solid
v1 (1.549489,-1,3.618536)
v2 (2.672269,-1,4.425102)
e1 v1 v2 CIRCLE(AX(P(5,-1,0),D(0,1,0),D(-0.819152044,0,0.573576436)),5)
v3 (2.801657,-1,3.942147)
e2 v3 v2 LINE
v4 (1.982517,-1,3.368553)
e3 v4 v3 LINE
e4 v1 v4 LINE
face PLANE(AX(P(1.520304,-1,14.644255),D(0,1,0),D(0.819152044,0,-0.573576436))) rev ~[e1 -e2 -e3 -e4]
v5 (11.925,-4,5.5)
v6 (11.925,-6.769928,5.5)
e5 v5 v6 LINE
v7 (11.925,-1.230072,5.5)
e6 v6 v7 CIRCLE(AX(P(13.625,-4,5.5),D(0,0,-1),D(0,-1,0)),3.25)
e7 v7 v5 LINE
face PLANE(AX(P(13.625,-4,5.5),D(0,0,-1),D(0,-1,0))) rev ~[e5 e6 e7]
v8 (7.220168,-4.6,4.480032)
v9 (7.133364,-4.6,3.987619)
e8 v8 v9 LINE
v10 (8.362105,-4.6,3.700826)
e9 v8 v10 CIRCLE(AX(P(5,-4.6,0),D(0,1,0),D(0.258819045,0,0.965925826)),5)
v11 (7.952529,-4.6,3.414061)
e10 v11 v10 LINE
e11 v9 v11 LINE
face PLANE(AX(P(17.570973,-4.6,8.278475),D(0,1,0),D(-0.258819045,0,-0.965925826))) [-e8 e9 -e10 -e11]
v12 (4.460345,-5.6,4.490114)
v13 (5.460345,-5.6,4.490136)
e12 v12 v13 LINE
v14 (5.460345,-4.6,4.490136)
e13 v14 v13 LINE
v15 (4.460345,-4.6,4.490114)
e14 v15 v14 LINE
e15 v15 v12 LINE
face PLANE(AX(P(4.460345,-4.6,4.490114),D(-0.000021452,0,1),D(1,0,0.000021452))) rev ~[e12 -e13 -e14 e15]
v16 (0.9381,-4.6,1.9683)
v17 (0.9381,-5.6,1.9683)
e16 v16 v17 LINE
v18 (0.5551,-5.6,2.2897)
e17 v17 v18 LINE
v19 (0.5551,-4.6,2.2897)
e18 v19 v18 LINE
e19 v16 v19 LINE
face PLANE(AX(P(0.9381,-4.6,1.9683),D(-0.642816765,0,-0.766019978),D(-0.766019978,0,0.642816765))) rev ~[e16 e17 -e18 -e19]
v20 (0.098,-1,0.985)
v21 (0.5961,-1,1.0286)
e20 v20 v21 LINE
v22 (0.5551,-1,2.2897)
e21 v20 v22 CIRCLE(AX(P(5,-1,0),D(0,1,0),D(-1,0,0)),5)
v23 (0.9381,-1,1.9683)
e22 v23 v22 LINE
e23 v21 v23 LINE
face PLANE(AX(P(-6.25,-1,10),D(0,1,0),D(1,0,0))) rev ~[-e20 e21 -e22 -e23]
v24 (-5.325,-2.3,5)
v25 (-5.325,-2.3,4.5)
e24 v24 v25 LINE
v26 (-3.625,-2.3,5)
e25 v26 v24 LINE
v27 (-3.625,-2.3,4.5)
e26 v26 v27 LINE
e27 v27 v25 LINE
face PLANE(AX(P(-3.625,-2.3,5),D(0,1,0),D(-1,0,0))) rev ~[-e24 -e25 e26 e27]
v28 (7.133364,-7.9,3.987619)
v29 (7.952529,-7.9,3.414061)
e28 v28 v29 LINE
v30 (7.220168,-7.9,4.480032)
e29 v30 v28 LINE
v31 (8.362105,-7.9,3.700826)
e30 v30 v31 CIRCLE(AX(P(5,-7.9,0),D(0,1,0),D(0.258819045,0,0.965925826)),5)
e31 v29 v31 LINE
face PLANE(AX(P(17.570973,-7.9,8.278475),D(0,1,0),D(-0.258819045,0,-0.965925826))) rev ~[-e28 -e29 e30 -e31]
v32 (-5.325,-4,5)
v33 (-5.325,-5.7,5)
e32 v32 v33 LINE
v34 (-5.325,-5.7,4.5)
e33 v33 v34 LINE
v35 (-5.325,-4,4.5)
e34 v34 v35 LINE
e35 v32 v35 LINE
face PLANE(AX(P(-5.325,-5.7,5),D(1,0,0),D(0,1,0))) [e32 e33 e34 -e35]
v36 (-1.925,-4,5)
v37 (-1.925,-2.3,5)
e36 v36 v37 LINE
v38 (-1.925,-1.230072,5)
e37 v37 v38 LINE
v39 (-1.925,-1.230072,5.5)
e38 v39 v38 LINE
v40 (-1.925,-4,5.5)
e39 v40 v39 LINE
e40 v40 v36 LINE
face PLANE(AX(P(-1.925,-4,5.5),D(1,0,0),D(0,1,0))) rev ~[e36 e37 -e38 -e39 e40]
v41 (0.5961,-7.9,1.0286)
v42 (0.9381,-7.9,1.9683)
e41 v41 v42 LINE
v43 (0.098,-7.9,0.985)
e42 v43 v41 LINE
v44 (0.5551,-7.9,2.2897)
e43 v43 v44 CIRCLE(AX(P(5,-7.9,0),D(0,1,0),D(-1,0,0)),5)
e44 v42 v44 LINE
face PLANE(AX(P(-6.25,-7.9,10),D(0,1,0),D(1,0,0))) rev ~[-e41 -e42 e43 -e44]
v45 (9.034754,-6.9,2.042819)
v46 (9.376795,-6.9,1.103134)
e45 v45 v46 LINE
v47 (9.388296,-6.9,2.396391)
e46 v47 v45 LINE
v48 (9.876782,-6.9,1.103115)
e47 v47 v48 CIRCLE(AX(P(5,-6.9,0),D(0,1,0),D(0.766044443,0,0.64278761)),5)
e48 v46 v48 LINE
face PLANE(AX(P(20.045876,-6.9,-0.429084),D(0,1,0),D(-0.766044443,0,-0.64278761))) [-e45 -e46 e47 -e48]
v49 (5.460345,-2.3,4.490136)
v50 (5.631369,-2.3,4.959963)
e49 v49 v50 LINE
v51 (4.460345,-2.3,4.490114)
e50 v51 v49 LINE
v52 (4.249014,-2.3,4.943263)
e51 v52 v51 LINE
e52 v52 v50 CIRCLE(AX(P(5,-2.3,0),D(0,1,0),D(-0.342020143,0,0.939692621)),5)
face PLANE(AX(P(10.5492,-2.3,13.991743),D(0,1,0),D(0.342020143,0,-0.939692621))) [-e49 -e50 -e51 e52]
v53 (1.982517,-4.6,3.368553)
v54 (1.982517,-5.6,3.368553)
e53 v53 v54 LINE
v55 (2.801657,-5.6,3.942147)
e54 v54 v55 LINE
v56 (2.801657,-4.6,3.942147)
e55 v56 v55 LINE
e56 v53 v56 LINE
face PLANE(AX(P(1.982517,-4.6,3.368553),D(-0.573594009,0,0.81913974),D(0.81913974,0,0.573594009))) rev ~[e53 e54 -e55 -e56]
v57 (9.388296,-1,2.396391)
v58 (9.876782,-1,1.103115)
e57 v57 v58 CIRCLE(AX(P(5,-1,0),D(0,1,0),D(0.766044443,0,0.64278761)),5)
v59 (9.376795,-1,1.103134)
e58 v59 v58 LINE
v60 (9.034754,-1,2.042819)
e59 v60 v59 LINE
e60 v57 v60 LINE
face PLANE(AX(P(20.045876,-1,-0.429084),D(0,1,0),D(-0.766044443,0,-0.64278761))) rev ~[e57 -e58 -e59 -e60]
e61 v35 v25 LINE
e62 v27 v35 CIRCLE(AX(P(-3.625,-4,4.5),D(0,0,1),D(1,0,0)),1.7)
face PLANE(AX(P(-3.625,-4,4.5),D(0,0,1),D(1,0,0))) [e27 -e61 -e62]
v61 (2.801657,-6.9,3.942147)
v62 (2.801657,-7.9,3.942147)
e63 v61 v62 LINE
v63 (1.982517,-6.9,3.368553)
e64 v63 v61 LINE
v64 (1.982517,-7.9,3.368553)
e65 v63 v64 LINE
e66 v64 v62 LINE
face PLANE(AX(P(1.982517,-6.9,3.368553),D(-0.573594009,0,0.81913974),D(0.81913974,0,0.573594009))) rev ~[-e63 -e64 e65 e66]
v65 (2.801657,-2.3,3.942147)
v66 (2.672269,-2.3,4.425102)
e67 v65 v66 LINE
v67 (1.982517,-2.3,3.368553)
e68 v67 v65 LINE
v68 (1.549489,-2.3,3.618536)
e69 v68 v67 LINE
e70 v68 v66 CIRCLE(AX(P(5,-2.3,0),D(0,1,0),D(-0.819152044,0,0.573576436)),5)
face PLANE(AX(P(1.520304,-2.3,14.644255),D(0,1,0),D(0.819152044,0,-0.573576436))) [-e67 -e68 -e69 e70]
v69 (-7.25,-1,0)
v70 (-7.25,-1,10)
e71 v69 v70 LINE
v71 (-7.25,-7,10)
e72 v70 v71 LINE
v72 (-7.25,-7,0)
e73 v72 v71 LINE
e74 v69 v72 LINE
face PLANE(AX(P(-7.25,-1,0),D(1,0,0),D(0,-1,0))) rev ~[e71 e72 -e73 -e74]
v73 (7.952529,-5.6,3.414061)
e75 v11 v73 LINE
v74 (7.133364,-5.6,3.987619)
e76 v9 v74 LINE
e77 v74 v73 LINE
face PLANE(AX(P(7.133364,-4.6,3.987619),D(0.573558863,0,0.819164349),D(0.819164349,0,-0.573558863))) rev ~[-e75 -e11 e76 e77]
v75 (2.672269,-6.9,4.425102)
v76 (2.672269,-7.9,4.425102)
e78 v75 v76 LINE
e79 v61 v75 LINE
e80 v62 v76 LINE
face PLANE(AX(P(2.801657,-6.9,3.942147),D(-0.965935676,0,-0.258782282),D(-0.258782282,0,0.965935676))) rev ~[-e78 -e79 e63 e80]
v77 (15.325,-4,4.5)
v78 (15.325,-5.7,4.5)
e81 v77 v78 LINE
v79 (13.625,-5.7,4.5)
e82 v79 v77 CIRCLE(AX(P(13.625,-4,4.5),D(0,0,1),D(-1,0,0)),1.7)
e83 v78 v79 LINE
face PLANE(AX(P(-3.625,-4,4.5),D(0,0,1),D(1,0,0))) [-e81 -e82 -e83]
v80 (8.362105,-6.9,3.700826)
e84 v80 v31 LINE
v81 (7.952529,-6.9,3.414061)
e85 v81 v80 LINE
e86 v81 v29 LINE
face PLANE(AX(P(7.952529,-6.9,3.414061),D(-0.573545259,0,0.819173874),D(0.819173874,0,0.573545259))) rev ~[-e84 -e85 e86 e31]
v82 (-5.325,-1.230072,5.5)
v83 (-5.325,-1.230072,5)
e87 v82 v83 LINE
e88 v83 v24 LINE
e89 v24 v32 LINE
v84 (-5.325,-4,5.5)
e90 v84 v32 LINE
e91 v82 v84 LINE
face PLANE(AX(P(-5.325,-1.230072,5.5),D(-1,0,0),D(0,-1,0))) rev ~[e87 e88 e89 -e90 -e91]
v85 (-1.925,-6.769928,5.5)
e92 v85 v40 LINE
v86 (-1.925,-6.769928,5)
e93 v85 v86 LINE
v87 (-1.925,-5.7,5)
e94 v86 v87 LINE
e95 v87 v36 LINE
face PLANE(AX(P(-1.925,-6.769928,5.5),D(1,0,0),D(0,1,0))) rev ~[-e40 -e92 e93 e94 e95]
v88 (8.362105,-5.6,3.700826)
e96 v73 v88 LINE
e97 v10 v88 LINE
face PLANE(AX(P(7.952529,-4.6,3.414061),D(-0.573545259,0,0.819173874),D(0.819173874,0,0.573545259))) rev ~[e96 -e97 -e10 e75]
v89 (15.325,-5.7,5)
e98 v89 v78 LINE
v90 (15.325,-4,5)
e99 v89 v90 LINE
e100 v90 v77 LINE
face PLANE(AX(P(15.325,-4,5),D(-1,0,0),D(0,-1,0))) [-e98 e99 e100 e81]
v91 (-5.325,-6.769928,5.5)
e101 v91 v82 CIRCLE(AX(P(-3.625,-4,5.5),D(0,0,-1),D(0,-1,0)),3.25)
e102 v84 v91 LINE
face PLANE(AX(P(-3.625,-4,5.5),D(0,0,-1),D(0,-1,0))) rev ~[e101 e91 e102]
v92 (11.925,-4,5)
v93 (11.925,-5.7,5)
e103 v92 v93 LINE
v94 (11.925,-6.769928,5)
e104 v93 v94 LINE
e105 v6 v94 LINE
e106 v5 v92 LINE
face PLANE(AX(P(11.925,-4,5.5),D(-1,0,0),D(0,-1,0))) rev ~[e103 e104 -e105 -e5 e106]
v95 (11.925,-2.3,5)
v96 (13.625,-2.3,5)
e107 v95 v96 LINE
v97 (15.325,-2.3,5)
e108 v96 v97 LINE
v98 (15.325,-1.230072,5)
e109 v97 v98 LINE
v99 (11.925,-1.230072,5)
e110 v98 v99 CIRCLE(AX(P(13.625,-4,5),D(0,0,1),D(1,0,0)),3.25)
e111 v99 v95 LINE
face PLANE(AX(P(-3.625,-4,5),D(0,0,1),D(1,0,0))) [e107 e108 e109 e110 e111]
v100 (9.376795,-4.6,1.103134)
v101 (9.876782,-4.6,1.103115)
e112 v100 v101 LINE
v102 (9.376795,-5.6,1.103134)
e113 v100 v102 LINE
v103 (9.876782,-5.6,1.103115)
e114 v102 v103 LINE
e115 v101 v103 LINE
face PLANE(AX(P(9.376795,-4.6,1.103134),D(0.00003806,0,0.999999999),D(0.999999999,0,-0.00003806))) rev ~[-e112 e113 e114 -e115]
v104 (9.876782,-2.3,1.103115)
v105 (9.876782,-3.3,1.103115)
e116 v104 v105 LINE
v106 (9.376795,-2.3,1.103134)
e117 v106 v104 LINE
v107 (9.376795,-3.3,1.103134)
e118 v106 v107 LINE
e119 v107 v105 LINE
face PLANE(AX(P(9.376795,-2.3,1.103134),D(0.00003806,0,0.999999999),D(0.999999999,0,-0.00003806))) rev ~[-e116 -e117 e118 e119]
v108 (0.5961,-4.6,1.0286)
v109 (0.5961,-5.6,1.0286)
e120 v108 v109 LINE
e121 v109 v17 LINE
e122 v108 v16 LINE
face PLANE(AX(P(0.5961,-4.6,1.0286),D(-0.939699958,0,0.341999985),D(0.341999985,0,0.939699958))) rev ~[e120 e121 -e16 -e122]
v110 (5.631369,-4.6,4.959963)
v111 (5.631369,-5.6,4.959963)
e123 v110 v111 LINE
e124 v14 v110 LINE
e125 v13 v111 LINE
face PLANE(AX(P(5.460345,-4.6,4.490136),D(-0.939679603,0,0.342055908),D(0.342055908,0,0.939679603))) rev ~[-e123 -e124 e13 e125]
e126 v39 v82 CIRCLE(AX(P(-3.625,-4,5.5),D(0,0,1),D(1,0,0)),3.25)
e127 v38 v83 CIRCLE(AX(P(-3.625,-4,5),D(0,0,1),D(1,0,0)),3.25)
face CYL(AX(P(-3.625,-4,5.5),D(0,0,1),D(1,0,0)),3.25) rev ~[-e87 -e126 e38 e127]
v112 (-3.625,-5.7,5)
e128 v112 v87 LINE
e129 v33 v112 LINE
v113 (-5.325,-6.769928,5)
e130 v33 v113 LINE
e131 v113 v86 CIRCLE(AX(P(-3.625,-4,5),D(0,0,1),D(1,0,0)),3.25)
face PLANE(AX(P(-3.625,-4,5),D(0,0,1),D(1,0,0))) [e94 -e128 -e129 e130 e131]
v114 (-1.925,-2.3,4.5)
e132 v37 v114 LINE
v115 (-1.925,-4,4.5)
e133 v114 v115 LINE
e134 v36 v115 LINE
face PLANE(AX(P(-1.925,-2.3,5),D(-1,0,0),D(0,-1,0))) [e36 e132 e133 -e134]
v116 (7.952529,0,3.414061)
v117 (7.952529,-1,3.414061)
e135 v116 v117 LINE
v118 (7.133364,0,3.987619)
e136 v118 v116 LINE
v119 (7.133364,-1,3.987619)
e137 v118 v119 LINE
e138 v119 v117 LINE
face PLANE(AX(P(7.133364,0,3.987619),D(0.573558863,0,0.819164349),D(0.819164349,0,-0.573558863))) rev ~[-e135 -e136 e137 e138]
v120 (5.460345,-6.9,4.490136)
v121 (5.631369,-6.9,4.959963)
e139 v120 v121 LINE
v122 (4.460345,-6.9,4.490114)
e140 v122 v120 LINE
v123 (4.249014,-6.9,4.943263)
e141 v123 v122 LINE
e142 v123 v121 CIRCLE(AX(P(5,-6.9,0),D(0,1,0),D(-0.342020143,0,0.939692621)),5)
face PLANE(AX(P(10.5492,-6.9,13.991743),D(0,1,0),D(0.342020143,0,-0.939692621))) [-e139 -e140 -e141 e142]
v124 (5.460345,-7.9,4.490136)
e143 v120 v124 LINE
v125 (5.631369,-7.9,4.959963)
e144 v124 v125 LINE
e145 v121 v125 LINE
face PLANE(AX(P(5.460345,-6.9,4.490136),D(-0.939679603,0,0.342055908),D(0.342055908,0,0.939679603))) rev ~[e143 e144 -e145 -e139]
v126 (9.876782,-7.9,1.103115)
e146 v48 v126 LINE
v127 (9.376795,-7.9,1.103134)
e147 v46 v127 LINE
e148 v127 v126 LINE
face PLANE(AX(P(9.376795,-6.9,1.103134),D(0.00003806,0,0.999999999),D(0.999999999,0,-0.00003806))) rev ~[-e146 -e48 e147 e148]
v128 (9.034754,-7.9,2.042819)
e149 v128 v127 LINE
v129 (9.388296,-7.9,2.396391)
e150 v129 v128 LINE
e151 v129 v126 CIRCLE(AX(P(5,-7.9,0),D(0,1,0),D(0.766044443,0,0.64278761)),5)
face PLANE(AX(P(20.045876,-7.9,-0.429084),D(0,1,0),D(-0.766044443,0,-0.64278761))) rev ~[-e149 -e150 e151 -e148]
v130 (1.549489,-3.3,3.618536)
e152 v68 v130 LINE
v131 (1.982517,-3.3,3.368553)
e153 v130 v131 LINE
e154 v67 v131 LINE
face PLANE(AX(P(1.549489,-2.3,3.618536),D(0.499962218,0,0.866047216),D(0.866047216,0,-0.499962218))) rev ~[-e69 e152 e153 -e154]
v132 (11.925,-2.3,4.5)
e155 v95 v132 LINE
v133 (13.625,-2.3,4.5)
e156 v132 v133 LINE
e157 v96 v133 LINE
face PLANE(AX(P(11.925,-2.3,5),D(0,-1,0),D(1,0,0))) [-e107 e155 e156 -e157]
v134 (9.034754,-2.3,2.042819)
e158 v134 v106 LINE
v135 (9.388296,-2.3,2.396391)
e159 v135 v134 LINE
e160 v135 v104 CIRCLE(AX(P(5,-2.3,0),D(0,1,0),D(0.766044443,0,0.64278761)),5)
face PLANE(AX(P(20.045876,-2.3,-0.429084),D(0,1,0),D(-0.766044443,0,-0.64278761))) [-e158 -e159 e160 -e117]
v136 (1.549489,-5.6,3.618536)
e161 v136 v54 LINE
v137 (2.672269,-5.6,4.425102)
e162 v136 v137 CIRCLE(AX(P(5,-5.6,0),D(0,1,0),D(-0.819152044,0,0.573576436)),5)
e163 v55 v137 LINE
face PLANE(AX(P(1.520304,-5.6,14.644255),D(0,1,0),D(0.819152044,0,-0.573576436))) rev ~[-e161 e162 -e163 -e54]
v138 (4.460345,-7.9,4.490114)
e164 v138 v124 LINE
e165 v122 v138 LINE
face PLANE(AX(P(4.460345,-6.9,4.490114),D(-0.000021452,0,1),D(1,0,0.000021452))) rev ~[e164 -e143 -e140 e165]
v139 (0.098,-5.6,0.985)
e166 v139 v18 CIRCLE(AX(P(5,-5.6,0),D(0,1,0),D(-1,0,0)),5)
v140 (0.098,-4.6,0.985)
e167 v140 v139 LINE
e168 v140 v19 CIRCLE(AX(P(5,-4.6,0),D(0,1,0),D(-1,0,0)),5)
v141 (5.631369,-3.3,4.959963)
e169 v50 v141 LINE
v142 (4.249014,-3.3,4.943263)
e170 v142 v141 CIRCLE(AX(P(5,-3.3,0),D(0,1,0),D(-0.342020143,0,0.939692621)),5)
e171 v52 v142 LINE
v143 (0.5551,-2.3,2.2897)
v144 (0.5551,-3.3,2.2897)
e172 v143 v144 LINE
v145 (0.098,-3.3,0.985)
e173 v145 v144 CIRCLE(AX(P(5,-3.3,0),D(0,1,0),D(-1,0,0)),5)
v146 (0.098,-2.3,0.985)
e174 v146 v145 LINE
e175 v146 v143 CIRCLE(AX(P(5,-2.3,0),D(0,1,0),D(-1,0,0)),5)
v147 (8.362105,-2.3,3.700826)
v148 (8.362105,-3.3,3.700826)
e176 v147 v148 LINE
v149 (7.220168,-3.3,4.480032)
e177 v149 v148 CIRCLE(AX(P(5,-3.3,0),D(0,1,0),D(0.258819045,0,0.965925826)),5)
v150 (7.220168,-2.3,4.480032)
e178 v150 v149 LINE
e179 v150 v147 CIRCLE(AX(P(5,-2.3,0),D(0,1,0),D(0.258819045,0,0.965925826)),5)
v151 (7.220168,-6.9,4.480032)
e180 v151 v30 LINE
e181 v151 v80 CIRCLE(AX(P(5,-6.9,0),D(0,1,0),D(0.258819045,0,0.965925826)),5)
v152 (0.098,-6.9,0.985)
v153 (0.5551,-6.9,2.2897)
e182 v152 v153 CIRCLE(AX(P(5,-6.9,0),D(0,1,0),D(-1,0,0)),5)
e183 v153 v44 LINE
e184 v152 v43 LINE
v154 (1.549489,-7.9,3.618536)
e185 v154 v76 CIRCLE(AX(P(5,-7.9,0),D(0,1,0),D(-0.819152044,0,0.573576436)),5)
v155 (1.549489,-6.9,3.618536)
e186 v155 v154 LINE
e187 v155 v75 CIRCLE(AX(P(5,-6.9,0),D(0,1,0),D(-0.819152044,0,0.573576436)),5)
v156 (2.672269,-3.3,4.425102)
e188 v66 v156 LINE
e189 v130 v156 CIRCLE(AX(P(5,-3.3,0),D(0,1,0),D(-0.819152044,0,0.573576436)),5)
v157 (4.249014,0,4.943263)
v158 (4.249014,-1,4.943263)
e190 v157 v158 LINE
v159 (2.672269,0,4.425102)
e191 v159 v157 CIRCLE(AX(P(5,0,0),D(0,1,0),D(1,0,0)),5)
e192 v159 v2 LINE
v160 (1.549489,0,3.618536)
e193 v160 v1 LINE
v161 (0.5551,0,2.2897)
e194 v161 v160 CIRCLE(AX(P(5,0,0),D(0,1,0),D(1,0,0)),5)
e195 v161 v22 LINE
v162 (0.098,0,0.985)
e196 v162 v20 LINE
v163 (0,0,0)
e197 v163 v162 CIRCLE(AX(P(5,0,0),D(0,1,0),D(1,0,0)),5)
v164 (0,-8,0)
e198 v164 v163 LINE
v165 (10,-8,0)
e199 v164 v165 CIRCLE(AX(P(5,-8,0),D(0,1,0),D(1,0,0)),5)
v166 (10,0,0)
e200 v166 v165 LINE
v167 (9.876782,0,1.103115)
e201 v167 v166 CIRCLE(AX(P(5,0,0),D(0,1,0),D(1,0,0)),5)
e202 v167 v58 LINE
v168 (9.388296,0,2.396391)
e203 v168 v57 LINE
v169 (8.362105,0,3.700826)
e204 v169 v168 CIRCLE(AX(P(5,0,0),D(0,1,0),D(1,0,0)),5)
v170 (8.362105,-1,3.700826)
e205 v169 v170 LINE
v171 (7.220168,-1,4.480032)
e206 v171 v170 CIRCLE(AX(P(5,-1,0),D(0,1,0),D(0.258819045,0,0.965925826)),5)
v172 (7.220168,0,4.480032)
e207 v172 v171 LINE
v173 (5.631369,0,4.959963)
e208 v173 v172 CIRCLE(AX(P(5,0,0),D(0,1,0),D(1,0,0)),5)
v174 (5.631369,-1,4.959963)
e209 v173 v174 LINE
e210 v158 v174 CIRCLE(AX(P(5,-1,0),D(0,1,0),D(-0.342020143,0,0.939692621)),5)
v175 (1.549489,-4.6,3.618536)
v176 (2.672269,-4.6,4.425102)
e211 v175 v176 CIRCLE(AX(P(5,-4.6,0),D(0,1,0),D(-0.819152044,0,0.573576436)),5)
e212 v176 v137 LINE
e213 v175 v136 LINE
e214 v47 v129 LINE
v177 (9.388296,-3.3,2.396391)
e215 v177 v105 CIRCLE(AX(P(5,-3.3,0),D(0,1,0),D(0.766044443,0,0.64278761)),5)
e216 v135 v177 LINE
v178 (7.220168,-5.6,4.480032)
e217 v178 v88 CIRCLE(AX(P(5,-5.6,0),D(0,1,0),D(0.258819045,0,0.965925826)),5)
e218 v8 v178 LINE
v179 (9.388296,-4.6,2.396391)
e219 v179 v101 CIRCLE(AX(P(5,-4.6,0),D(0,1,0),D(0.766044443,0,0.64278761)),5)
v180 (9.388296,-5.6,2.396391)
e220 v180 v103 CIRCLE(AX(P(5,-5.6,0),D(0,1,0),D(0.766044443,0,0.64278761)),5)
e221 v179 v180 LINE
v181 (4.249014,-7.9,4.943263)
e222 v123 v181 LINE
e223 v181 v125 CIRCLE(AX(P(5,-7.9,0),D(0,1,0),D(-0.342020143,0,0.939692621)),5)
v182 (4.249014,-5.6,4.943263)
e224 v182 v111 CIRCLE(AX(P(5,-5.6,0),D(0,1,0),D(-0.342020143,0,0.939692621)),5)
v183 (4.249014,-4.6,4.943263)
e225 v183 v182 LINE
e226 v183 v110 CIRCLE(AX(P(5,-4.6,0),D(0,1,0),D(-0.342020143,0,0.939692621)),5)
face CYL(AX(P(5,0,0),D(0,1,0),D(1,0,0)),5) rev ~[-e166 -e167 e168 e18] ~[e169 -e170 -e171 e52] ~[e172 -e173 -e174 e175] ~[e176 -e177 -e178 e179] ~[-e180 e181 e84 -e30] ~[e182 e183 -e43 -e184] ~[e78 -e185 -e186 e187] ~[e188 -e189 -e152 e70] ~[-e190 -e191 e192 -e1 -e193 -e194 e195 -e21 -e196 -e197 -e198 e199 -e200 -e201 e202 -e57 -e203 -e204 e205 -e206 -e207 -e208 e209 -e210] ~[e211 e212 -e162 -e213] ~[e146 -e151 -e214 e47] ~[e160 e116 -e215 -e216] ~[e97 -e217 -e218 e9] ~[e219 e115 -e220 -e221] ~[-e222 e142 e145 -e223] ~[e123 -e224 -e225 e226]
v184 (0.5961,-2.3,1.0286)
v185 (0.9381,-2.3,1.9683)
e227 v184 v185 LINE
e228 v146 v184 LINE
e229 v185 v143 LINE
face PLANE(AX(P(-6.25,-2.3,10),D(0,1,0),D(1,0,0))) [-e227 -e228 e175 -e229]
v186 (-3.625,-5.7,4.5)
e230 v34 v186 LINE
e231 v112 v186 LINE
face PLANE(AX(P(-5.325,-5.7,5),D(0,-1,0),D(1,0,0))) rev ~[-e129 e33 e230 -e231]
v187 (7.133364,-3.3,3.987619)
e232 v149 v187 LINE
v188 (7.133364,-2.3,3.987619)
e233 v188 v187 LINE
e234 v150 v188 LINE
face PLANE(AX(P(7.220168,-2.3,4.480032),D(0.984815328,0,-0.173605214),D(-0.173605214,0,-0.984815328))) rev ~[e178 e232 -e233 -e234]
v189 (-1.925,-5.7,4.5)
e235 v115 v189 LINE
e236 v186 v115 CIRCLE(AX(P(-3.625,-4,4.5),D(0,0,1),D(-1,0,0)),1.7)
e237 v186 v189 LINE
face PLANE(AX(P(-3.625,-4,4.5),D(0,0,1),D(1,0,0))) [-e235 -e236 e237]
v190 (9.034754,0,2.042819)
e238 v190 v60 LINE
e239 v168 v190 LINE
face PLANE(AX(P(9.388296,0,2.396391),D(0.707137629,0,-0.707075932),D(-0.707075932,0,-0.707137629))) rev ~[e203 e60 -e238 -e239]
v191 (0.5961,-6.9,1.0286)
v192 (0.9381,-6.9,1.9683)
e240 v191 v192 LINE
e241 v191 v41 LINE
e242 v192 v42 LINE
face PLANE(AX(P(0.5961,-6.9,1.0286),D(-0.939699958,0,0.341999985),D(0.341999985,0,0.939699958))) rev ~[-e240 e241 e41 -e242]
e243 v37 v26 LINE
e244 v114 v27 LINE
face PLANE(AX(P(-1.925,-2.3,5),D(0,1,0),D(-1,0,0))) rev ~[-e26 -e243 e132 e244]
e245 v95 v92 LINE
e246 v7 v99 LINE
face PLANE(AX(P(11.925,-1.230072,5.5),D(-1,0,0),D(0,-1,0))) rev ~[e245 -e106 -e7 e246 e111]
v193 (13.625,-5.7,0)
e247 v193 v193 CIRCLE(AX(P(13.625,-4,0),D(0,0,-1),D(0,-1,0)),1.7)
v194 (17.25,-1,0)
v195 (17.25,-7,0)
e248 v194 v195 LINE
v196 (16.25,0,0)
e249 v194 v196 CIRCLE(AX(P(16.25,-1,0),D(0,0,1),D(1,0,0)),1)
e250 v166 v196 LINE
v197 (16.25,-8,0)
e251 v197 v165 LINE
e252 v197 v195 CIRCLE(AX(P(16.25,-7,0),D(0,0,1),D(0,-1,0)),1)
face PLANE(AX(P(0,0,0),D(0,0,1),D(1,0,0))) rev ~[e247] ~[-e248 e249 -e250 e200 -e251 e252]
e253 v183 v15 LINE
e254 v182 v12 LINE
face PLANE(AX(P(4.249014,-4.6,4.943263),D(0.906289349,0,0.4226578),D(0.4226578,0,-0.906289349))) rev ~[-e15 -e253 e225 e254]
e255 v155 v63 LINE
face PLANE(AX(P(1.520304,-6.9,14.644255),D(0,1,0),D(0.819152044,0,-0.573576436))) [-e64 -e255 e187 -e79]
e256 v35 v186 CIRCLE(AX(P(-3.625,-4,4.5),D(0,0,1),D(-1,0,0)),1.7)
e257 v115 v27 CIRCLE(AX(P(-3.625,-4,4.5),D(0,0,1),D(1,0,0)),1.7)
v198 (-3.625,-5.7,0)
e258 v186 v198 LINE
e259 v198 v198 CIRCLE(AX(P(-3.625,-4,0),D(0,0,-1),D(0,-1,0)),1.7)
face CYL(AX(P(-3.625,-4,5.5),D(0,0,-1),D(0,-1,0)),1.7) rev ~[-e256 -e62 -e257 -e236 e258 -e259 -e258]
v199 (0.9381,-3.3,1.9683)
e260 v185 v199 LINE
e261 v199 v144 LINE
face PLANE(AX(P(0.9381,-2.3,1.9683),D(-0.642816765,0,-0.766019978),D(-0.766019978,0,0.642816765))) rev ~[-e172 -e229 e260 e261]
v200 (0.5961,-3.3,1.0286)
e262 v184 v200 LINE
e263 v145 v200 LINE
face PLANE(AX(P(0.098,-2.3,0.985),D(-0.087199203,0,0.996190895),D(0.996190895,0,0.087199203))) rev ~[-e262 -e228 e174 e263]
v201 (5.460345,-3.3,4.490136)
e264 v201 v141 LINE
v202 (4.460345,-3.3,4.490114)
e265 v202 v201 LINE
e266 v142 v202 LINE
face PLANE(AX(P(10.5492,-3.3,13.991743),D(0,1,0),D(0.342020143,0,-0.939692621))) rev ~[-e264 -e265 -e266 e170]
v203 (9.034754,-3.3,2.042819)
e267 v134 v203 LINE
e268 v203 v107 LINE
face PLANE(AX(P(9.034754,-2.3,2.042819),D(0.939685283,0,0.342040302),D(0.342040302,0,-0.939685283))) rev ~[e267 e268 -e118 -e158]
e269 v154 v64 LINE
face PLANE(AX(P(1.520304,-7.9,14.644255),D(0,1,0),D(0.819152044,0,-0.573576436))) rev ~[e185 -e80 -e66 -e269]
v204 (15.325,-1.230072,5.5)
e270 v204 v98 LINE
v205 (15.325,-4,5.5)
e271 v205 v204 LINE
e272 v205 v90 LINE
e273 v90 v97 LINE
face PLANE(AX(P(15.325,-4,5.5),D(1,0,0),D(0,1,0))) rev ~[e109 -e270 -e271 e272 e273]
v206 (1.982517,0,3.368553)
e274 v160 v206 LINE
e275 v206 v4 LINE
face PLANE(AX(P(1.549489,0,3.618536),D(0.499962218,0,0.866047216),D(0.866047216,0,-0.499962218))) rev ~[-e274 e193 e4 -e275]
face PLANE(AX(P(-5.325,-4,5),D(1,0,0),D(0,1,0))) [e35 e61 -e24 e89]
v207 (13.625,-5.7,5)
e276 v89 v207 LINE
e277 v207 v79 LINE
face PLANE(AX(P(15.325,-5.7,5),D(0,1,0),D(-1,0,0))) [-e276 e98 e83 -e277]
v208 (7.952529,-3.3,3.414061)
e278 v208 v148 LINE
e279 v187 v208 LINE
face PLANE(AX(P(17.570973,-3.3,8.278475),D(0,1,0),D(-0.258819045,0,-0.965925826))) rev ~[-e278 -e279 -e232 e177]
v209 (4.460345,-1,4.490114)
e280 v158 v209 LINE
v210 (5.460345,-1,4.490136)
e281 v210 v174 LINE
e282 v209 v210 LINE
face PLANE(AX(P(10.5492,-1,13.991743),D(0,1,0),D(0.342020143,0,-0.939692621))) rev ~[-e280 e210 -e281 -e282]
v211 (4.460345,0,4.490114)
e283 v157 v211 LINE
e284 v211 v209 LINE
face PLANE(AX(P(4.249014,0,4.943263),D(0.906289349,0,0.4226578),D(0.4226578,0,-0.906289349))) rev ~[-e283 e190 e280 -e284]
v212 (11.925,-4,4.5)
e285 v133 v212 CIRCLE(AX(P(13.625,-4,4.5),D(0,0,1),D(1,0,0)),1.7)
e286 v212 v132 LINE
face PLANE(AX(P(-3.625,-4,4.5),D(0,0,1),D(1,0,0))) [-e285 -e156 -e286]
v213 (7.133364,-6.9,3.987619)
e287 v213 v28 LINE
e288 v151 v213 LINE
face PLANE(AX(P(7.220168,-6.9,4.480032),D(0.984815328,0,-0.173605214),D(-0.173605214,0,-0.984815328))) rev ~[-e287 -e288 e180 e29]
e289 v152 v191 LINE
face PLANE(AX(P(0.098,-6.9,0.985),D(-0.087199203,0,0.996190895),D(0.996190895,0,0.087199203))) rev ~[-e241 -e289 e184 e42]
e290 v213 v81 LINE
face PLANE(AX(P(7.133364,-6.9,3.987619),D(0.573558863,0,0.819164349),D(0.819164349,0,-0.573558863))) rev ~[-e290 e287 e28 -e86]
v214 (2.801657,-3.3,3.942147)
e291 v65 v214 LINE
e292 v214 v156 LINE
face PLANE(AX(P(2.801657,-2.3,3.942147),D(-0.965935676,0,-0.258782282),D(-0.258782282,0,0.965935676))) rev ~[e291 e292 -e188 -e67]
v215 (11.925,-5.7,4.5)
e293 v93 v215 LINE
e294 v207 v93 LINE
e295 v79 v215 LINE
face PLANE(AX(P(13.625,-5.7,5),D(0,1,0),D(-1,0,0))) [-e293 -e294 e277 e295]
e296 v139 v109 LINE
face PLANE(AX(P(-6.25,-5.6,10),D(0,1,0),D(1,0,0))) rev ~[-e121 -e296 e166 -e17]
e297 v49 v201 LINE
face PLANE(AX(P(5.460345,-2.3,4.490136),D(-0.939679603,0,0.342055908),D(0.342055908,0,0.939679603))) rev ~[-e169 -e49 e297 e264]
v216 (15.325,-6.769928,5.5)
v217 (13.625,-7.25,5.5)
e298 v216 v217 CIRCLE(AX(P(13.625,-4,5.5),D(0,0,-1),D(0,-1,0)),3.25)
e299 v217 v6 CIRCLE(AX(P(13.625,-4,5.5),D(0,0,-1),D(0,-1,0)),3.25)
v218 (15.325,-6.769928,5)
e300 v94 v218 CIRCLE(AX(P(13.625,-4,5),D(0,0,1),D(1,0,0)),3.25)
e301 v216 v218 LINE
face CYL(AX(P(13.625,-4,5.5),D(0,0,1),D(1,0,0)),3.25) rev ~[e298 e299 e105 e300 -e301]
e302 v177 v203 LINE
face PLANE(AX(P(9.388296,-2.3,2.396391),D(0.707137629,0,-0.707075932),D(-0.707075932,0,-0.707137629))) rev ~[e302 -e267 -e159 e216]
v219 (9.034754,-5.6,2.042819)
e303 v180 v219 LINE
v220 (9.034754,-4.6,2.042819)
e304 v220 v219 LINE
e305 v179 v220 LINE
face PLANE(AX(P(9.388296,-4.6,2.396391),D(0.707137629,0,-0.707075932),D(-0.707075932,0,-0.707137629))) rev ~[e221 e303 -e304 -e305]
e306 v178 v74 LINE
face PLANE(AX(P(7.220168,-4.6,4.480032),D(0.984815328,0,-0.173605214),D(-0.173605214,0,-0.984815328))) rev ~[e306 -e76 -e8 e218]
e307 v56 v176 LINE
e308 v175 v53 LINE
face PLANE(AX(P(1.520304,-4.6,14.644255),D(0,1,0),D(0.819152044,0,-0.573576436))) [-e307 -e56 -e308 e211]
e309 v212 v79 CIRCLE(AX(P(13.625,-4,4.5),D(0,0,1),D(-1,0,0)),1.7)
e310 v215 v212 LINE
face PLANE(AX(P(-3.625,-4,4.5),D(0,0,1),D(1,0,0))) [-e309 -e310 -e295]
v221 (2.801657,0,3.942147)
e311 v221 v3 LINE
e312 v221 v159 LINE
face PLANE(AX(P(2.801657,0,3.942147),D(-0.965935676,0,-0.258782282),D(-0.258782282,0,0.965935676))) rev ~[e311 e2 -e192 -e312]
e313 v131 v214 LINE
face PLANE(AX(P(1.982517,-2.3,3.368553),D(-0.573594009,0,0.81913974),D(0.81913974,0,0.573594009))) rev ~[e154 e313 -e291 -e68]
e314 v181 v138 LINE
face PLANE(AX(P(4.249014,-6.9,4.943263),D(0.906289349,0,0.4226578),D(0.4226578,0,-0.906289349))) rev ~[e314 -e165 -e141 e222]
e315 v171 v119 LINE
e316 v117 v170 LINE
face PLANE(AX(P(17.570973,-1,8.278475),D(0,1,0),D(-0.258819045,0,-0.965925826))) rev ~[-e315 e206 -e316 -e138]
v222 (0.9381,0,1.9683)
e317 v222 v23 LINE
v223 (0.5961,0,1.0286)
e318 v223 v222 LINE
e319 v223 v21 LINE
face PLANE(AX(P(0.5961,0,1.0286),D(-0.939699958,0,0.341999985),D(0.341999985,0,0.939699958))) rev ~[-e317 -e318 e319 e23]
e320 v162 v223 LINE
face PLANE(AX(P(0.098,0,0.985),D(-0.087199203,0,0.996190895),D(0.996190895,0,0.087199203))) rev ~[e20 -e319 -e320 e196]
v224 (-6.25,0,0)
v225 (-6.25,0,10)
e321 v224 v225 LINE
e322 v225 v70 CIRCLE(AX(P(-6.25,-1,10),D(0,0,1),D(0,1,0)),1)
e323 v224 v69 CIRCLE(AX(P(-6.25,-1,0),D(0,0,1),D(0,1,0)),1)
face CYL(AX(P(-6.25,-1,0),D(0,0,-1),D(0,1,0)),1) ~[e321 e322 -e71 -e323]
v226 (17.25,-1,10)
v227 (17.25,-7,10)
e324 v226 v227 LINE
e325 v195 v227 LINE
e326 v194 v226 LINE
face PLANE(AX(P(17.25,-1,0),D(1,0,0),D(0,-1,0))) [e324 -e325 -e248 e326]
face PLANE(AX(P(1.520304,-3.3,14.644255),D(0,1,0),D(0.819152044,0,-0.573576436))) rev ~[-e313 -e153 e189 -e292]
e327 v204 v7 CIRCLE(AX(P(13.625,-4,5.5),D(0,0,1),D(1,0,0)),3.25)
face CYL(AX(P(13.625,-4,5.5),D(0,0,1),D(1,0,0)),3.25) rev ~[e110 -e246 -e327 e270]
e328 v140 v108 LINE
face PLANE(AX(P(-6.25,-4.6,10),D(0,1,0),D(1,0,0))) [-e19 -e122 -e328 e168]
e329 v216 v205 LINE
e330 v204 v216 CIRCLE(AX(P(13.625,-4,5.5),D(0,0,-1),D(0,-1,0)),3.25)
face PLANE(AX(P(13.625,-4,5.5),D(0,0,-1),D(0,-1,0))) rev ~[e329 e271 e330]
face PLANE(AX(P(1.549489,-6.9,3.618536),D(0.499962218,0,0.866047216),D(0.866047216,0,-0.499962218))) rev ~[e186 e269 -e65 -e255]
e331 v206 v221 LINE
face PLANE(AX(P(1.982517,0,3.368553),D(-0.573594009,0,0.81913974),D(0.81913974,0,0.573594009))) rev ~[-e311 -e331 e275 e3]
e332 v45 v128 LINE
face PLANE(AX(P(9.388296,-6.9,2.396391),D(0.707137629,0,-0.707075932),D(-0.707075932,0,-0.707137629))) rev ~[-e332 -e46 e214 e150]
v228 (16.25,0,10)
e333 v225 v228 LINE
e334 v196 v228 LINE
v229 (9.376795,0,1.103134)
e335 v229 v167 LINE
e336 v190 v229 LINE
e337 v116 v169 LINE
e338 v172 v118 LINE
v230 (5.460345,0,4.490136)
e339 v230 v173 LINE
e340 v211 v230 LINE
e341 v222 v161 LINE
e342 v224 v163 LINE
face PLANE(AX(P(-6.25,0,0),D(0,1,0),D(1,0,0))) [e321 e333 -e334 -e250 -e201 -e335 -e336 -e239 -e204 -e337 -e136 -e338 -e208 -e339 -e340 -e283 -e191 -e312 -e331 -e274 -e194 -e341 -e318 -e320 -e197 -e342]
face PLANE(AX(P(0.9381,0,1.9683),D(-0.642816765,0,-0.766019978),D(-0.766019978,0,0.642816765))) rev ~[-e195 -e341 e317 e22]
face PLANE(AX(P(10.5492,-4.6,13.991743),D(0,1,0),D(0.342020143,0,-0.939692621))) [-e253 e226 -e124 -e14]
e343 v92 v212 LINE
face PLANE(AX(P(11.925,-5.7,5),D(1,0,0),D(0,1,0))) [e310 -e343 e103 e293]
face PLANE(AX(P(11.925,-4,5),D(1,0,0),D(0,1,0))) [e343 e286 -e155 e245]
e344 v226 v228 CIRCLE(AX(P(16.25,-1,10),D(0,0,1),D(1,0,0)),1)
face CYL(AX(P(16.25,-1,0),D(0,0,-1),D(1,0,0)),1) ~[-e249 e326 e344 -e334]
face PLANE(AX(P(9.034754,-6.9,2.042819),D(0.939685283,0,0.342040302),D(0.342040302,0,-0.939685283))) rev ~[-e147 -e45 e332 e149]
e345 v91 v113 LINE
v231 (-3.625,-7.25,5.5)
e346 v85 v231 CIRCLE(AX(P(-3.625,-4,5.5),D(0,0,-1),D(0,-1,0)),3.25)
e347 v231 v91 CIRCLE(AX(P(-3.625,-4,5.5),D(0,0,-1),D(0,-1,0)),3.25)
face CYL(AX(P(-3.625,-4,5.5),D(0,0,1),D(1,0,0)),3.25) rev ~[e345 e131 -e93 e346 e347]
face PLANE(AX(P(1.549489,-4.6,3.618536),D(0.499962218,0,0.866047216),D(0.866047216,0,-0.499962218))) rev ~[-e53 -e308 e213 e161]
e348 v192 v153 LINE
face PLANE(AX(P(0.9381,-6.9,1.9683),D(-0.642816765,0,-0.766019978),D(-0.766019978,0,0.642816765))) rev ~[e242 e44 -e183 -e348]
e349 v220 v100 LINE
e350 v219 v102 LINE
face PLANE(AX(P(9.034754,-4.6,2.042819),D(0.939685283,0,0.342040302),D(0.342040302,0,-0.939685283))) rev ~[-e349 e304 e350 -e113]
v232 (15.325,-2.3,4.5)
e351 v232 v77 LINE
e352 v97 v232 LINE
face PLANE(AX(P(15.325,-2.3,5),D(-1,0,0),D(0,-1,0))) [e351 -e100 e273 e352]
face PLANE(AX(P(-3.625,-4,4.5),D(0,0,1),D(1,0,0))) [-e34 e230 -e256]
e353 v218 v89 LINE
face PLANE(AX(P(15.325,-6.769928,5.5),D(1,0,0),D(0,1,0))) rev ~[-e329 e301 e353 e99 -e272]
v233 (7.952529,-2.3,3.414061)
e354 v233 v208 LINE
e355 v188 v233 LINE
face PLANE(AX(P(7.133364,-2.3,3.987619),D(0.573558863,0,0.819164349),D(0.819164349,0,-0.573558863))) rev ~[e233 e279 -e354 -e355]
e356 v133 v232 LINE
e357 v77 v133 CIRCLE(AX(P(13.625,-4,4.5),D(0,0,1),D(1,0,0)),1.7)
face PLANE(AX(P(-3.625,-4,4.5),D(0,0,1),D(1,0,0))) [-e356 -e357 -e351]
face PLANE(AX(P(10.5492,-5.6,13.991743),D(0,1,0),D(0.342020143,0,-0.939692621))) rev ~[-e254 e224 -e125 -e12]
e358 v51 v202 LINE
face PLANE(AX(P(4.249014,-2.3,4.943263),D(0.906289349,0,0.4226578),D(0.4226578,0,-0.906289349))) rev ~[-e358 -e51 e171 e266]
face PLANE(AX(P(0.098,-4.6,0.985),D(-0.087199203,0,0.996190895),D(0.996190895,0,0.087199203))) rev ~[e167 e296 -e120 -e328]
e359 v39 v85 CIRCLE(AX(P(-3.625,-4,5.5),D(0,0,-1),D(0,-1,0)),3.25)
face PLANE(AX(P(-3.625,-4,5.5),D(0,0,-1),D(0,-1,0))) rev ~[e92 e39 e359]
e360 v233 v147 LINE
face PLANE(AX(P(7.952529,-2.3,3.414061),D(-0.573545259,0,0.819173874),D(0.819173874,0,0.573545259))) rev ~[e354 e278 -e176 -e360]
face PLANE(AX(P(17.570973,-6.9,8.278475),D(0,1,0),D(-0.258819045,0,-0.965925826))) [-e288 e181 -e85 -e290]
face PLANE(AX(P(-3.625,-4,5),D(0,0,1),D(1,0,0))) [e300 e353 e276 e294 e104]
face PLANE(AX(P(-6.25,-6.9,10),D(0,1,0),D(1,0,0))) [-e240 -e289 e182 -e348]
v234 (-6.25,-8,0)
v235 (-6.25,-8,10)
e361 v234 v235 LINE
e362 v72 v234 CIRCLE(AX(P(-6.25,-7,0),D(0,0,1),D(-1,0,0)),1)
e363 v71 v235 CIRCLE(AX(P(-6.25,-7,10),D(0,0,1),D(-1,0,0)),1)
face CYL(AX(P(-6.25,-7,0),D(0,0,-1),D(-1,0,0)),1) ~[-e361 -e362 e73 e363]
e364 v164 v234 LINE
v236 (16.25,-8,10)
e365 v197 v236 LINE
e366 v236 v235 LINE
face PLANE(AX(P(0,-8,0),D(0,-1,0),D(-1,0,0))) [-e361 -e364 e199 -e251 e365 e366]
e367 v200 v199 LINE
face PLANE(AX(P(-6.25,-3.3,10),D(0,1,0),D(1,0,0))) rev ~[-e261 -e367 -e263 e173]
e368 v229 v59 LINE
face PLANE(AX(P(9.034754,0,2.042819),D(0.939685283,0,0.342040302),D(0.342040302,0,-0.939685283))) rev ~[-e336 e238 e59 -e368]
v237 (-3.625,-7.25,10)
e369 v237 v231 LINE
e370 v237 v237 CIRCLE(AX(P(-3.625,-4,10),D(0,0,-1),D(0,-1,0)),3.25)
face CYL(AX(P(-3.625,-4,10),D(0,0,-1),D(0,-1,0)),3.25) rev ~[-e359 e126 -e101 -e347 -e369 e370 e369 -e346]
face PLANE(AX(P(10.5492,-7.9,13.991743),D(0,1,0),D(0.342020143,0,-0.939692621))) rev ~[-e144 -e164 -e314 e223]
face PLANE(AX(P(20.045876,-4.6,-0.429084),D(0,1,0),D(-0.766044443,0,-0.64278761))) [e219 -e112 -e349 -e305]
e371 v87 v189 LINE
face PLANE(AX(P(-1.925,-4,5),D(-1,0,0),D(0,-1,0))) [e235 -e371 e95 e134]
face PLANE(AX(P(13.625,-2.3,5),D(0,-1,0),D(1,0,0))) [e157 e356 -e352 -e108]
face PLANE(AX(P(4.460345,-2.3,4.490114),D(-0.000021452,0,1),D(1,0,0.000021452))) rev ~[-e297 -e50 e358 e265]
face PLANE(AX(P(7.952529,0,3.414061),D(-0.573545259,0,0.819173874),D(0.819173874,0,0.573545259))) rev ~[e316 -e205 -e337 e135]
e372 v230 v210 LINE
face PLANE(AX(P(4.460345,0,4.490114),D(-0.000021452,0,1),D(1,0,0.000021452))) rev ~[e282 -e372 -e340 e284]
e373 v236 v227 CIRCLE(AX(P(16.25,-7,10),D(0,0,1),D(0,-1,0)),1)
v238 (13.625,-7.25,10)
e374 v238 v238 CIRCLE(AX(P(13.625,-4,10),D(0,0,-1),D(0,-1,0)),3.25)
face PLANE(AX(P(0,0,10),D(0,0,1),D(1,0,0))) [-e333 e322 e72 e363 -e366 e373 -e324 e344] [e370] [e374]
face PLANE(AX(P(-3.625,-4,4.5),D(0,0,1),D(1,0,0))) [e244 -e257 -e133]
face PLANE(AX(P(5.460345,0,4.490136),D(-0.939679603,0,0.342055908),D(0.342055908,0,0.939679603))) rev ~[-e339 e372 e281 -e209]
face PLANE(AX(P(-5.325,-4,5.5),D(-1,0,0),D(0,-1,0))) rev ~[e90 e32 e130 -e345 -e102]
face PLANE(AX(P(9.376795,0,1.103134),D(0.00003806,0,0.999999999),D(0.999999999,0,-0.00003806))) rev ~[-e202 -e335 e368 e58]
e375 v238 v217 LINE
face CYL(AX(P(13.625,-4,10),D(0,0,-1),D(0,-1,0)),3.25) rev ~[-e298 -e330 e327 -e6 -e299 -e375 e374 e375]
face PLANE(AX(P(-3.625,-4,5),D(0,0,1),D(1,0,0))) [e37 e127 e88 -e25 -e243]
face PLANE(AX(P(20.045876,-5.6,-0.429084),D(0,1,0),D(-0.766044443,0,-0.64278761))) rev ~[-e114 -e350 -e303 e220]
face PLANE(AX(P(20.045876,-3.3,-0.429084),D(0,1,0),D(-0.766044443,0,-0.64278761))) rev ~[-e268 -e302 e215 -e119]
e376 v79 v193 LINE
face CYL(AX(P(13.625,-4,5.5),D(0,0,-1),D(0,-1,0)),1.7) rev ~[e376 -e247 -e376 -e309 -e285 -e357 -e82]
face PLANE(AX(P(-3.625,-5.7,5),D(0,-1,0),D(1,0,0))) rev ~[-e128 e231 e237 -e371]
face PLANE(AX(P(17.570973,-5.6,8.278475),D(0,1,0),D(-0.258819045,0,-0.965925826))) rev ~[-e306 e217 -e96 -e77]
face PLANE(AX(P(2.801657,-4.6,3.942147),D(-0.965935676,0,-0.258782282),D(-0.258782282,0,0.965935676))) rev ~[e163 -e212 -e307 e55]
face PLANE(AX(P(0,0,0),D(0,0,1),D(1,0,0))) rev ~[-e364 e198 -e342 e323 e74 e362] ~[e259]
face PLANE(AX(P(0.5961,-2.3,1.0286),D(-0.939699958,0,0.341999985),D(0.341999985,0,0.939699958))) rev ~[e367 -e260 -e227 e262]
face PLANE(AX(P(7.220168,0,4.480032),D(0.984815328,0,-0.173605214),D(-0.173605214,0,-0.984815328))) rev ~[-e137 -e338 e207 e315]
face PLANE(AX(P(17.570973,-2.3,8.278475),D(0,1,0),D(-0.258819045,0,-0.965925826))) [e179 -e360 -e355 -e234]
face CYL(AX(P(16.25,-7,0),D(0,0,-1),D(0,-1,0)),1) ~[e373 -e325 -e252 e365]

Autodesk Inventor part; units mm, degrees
ref_plane "YZ Plane" through (0, 0, 0) normal (1, 0, 0) x (0, 1, 0)
ref_plane "XZ Plane" through (0, 0, 0) normal (0, 1, 0) x (-1, 0, 0)
sketch "Sketch1" plane through (0, 0, 0) normal (0, 0, 1) x (1, 0, 0)
  circle A0 centre (-3.625, -4) radius 1.7 projected
  arc A1 (-6.25, 0) -> (-7.25, -1) centre (-6.25, -1) ccw projected
  line L0 (-7.25, -1) -> (-7.25, -7) projected
  arc A2 (-7.25, -7) -> (-6.25, -8) centre (-6.25, -7) ccw projected
  line L1 (0, -8) -> (-6.25, -8) projected
  line L2 (0, 0) -> (0, -8) projected
  line L3 (-6.25, 0) -> (0, 0) projected
  circle A3 centre (13.625, -4) radius 1.7 projected
  arc A4 (16.25, -8) -> (17.25, -7) centre (16.25, -7) ccw projected
  line L4 (17.25, -1) -> (17.25, -7) projected
  arc A5 (17.25, -1) -> (16.25, 0) centre (16.25, -1) ccw projected
  line L5 (10, 0) -> (16.25, 0) projected
  line L6 (10, 0) -> (10, -8) projected
  line L7 (16.25, -8) -> (10, -8) projected
  line L8 (0, -8) -> (10, -8)
  line L9 (10, -8) -> (10, 0)
  line L10 (10, 0) -> (0, 0)
  line L11 (0, 0) -> (0, -8)
extrude "Extrusion1" add sketch "Sketch1" along normal blind 10 contours A0 | L3 L2 L1 A2 L0 A1 | L10 L6 L8 L2 | L5 A5 L4 A4 L7 L6 | A3
sketch "Sketch2" plane through (-6.25, 0, 0) normal (0, 1, 0) x (1, 0, 0)
  arc A0 (7.7995, 3.6186) -> (6.8051, 2.2897) centre (11.25, 0) ccw projected
  circle A1 centre (11.25, 0) radius 5
  point P0 (6.25, 0)
extrude "Extrusion2" cut sketch "Sketch2" against normal through all
sketch "Sketch3" plane through (-6.25, 0, 10) normal (0, 1, 0) x (1, 0, 0)
  line L0 (0, 10) -> (0, 15.75) projected
  line L1 (0, 10) -> (6.25, 10) projected
  arc A0 (6.348, 10.985) -> (6.25, 10) centre (11.25, 10) ccw projected
  line L2 (6.348, 10.985) -> (6.8461, 11.0286) projected
  line L3 (6.8461, 11.0286) -> (7.1881, 11.9683) projected
  line L4 (7.1881, 11.9683) -> (6.8051, 12.2897) projected
  arc A1 (7.7995, 13.6186) -> (6.8051, 12.2897) centre (11.25, 10) ccw projected
  line L5 (7.7995, 13.6186) -> (8.2325, 13.3686) projected
  line L6 (8.2325, 13.3686) -> (9.0517, 13.9421) projected
  line L7 (9.0517, 13.9421) -> (8.9223, 14.4251) projected
  arc A2 (10.499, 14.9433) -> (8.9223, 14.4251) centre (11.25, 10) ccw projected
  line L8 (10.499, 14.9433) -> (10.7104, 14.4901) projected
  line L9 (10.7104, 14.4901) -> (11.7104, 14.4901) projected
  line L10 (11.7104, 14.4901) -> (11.8814, 14.96) projected
  arc A3 (13.4702, 14.48) -> (11.8814, 14.96) centre (11.25, 10) ccw projected
  line L11 (13.4702, 14.48) -> (13.3834, 13.9876) projected
  line L12 (13.3834, 13.9876) -> (14.2025, 13.4141) projected
  line L13 (14.2025, 13.4141) -> (14.6121, 13.7008) projected
  arc A4 (15.6383, 12.3964) -> (14.6121, 13.7008) centre (11.25, 10) ccw projected
  line L14 (15.6383, 12.3964) -> (15.2848, 12.0428) projected
  line L15 (15.2848, 12.0428) -> (15.6268, 11.1031) projected
  line L16 (15.6268, 11.1031) -> (16.1268, 11.1031) projected
  arc A5 (16.25, 10) -> (16.1268, 11.1031) centre (11.25, 10) ccw projected
  line L17 (16.25, 10) -> (22.5, 10) projected
  line L18 (22.5, 15.75) -> (22.5, 10) projected
  arc A6 (6.25, 10) -> (16.25, 10) centre (11.25, 10) ccw projected
  line L19 (16.25, 10) -> (6.25, 10)
  circle A7 centre (11.25, 10) radius 5
  line L20 (6.348, 9.015) -> (6.8461, 8.9714)
  line L21 (6.8461, 8.9714) -> (7.1881, 8.0317)
  line L22 (7.1881, 8.0317) -> (6.8051, 7.7103)
  line L23 (0, 15.75) -> (22.5, 15.75) projected
ref_plane "Work Plane1" through (0.098, -1, -2.2897) normal (0, -1, 0) x (1, 0, 0)
extrude "Extrusion3" add sketch "Sketch3" against normal up to surface (1 mm away) contours L20 L21 L22 A6
pattern_circular "Circular Pattern1" count 5 over 140 about axis through (5, 0, 0) along (0, 1, 0) of "Extrusion3"
pattern_linear "Rectangular Pattern1" count 4 spacing 2.3 along (0, -1, 0) of "Extrusion3", "Circular Pattern1"
sketch "Sketch4" plane through (0, 0, 10) normal (0, 0, 1) x (1, 0, 0)
  circle A0 centre (-3.625, -4) radius 1.7 projected
  circle A1 centre (13.625, -4) radius 1.7 projected
  point P0 (0, 0)
hole "Hole1" at (-3.625, -4, 10) at (13.625, -4, 10) direction (0, 0, -1) diameter 3.4 end through all counterbore diameter 6.5 counterbore depth 4.5 clearance for "Socket Head Cap Screw" size "M3" standard "Ansi Metric M Profile"
sketch "Sketch5" plane through (-3.625, -4, 5.5) normal (0, 0, 1) x (1, 0, 0)
  circle A0 centre (0, 0) radius 3.25 projected
  circle A1 centre (0, 0) radius 1.7 projected
  circle A2 centre (17.25, 0) radius 3.25 projected
  circle A3 centre (17.25, 0) radius 1.7 projected
  line L0 (-1.7, -3.459) -> (1.7, -3.459)
  line L1 (1.7, -3.459) -> (1.7, 3.459)
  line L2 (1.7, 3.459) -> (-1.7, 3.459)
  line L3 (-1.7, 3.459) -> (-1.7, -3.459)
  line L4 (-1.7, -3.459) -> (1.7, 3.459) construction
  line L5 (1.7, -3.459) -> (-1.7, 3.459) construction
  line L6 (15.55, -3.459) -> (18.95, -3.459)
  line L7 (18.95, -3.459) -> (18.95, 3.459)
  line L8 (18.95, 3.459) -> (15.55, 3.459)
  line L9 (15.55, 3.459) -> (15.55, -3.459)
  line L10 (15.55, -3.459) -> (18.95, 3.459) construction
  line L11 (18.95, -3.459) -> (15.55, 3.459) construction
  point P0 (3.625, 4)
  point P1 (15.55, 0)
  point P2 (15.55, -2.7699)
  point P3 (18.95, -2.7699)
  point P4 (18.95, 0)
  point P5 (15.55, 2.7699)
  point P6 (18.95, 2.7699)
  point P7 (-1.7, 2.7699)
  point P8 (-1.7, 0)
  point P9 (1.7, 0)
  point P10 (1.7, 2.7699)
  point P11 (-1.7, -2.7699)
  point P12 (1.7, -2.7699)
  dimension "d19" = 3.4
  dimension "d20" = 3.4
extrude "Extrusion4" cut sketch "Sketch5" against normal blind 0.5 contours L1 A1 L3 A0 | A0 L3 A1 L1 | L7 A3 L9 A2 | A2 L9 A3 L7
sketch "Sketch6" plane through (-3.625, -4, 5) normal (0, 0, 1) x (1, 0, 0)
  line L0 (-1.7, 0) -> (-1.7, 2.7699) projected
  arc A0 (1.7, 0) -> (-1.7, 0) centre (0, 0) ccw projected
  line L1 (1.7, 2.7699) -> (1.7, 0) projected
  arc A1 (1.7, 2.7699) -> (-1.7, 2.7699) centre (0, 0) ccw projected
  arc A2 (-1.7, -2.7699) -> (1.7, -2.7699) centre (0, 0) ccw projected
  line L2 (1.7, 0) -> (1.7, -2.7699) projected
  arc A3 (-1.7, 0) -> (1.7, 0) centre (0, 0) ccw projected
  line L3 (-1.7, -2.7699) -> (-1.7, 0) projected
  line L4 (18.95, 0) -> (18.95, -2.7699) projected
  arc A4 (15.55, 0) -> (18.95, 0) centre (17.25, 0) ccw projected
  line L5 (15.55, -2.7699) -> (15.55, 0) projected
  arc A5 (15.55, -2.7699) -> (18.95, -2.7699) centre (17.25, 0) ccw projected
  arc A6 (18.95, 0) -> (15.55, 0) centre (17.25, 0) ccw projected
  line L6 (18.95, 2.7699) -> (18.95, 0) projected
  arc A7 (18.95, 2.7699) -> (15.55, 2.7699) centre (17.25, 0) ccw projected
  line L7 (15.55, 0) -> (15.55, 2.7699) projected
  line L8 (-3.4281, -1.7) -> (3.4281, -1.7)
  line L9 (3.4281, -1.7) -> (3.4281, 1.7)
  line L10 (3.4281, 1.7) -> (-3.4281, 1.7)
  line L11 (-3.4281, 1.7) -> (-3.4281, -1.7)
  line L12 (-3.4281, -1.7) -> (3.4281, 1.7) construction
  line L13 (3.4281, -1.7) -> (-3.4281, 1.7) construction
  line L14 (20.0199, -1.7) -> (14.4801, -1.7)
  line L15 (14.4801, -1.7) -> (14.4801, 1.7)
  line L16 (14.4801, 1.7) -> (20.0199, 1.7)
  line L17 (20.0199, 1.7) -> (20.0199, -1.7)
  line L18 (20.0199, -1.7) -> (14.4801, 1.7) construction
  line L19 (14.4801, -1.7) -> (20.0199, 1.7) construction
  point P0 (3.625, 4)
  point P1 (15.55, -1.7)
  point P2 (17.25, -1.7)
  point P3 (18.95, -1.7)
  point P4 (18.95, 1.7)
  point P5 (17.25, 1.7)
  point P6 (15.55, 1.7)
  point P7 (1.7, 1.7)
  point P8 (0, 1.7)
  point P9 (1.7, 0)
  point P10 (1.7, 0)
  point P11 (1.7, 0)
  point P12 (1.7, 0)
  point P13 (-1.7, -1.7)
  point P14 (0, -1.7)
  point P15 (-1.7, 1.7)
  point P16 (1.7, -1.7)
  dimension "d23" = 3.4
  dimension "d24" = 3.4
extrude "Extrusion5" cut sketch "Sketch6" against normal blind 0.5 contours L0 L10 A0 | A3 L8 L3 | L10 L1 A0 | A3 L2 L8 | L4 L14 A4 | A6 L16 L6 | L14 L5 A4 | A6 L7 L16
properties part number "Extruder-Motherboard Cable Clamp"
